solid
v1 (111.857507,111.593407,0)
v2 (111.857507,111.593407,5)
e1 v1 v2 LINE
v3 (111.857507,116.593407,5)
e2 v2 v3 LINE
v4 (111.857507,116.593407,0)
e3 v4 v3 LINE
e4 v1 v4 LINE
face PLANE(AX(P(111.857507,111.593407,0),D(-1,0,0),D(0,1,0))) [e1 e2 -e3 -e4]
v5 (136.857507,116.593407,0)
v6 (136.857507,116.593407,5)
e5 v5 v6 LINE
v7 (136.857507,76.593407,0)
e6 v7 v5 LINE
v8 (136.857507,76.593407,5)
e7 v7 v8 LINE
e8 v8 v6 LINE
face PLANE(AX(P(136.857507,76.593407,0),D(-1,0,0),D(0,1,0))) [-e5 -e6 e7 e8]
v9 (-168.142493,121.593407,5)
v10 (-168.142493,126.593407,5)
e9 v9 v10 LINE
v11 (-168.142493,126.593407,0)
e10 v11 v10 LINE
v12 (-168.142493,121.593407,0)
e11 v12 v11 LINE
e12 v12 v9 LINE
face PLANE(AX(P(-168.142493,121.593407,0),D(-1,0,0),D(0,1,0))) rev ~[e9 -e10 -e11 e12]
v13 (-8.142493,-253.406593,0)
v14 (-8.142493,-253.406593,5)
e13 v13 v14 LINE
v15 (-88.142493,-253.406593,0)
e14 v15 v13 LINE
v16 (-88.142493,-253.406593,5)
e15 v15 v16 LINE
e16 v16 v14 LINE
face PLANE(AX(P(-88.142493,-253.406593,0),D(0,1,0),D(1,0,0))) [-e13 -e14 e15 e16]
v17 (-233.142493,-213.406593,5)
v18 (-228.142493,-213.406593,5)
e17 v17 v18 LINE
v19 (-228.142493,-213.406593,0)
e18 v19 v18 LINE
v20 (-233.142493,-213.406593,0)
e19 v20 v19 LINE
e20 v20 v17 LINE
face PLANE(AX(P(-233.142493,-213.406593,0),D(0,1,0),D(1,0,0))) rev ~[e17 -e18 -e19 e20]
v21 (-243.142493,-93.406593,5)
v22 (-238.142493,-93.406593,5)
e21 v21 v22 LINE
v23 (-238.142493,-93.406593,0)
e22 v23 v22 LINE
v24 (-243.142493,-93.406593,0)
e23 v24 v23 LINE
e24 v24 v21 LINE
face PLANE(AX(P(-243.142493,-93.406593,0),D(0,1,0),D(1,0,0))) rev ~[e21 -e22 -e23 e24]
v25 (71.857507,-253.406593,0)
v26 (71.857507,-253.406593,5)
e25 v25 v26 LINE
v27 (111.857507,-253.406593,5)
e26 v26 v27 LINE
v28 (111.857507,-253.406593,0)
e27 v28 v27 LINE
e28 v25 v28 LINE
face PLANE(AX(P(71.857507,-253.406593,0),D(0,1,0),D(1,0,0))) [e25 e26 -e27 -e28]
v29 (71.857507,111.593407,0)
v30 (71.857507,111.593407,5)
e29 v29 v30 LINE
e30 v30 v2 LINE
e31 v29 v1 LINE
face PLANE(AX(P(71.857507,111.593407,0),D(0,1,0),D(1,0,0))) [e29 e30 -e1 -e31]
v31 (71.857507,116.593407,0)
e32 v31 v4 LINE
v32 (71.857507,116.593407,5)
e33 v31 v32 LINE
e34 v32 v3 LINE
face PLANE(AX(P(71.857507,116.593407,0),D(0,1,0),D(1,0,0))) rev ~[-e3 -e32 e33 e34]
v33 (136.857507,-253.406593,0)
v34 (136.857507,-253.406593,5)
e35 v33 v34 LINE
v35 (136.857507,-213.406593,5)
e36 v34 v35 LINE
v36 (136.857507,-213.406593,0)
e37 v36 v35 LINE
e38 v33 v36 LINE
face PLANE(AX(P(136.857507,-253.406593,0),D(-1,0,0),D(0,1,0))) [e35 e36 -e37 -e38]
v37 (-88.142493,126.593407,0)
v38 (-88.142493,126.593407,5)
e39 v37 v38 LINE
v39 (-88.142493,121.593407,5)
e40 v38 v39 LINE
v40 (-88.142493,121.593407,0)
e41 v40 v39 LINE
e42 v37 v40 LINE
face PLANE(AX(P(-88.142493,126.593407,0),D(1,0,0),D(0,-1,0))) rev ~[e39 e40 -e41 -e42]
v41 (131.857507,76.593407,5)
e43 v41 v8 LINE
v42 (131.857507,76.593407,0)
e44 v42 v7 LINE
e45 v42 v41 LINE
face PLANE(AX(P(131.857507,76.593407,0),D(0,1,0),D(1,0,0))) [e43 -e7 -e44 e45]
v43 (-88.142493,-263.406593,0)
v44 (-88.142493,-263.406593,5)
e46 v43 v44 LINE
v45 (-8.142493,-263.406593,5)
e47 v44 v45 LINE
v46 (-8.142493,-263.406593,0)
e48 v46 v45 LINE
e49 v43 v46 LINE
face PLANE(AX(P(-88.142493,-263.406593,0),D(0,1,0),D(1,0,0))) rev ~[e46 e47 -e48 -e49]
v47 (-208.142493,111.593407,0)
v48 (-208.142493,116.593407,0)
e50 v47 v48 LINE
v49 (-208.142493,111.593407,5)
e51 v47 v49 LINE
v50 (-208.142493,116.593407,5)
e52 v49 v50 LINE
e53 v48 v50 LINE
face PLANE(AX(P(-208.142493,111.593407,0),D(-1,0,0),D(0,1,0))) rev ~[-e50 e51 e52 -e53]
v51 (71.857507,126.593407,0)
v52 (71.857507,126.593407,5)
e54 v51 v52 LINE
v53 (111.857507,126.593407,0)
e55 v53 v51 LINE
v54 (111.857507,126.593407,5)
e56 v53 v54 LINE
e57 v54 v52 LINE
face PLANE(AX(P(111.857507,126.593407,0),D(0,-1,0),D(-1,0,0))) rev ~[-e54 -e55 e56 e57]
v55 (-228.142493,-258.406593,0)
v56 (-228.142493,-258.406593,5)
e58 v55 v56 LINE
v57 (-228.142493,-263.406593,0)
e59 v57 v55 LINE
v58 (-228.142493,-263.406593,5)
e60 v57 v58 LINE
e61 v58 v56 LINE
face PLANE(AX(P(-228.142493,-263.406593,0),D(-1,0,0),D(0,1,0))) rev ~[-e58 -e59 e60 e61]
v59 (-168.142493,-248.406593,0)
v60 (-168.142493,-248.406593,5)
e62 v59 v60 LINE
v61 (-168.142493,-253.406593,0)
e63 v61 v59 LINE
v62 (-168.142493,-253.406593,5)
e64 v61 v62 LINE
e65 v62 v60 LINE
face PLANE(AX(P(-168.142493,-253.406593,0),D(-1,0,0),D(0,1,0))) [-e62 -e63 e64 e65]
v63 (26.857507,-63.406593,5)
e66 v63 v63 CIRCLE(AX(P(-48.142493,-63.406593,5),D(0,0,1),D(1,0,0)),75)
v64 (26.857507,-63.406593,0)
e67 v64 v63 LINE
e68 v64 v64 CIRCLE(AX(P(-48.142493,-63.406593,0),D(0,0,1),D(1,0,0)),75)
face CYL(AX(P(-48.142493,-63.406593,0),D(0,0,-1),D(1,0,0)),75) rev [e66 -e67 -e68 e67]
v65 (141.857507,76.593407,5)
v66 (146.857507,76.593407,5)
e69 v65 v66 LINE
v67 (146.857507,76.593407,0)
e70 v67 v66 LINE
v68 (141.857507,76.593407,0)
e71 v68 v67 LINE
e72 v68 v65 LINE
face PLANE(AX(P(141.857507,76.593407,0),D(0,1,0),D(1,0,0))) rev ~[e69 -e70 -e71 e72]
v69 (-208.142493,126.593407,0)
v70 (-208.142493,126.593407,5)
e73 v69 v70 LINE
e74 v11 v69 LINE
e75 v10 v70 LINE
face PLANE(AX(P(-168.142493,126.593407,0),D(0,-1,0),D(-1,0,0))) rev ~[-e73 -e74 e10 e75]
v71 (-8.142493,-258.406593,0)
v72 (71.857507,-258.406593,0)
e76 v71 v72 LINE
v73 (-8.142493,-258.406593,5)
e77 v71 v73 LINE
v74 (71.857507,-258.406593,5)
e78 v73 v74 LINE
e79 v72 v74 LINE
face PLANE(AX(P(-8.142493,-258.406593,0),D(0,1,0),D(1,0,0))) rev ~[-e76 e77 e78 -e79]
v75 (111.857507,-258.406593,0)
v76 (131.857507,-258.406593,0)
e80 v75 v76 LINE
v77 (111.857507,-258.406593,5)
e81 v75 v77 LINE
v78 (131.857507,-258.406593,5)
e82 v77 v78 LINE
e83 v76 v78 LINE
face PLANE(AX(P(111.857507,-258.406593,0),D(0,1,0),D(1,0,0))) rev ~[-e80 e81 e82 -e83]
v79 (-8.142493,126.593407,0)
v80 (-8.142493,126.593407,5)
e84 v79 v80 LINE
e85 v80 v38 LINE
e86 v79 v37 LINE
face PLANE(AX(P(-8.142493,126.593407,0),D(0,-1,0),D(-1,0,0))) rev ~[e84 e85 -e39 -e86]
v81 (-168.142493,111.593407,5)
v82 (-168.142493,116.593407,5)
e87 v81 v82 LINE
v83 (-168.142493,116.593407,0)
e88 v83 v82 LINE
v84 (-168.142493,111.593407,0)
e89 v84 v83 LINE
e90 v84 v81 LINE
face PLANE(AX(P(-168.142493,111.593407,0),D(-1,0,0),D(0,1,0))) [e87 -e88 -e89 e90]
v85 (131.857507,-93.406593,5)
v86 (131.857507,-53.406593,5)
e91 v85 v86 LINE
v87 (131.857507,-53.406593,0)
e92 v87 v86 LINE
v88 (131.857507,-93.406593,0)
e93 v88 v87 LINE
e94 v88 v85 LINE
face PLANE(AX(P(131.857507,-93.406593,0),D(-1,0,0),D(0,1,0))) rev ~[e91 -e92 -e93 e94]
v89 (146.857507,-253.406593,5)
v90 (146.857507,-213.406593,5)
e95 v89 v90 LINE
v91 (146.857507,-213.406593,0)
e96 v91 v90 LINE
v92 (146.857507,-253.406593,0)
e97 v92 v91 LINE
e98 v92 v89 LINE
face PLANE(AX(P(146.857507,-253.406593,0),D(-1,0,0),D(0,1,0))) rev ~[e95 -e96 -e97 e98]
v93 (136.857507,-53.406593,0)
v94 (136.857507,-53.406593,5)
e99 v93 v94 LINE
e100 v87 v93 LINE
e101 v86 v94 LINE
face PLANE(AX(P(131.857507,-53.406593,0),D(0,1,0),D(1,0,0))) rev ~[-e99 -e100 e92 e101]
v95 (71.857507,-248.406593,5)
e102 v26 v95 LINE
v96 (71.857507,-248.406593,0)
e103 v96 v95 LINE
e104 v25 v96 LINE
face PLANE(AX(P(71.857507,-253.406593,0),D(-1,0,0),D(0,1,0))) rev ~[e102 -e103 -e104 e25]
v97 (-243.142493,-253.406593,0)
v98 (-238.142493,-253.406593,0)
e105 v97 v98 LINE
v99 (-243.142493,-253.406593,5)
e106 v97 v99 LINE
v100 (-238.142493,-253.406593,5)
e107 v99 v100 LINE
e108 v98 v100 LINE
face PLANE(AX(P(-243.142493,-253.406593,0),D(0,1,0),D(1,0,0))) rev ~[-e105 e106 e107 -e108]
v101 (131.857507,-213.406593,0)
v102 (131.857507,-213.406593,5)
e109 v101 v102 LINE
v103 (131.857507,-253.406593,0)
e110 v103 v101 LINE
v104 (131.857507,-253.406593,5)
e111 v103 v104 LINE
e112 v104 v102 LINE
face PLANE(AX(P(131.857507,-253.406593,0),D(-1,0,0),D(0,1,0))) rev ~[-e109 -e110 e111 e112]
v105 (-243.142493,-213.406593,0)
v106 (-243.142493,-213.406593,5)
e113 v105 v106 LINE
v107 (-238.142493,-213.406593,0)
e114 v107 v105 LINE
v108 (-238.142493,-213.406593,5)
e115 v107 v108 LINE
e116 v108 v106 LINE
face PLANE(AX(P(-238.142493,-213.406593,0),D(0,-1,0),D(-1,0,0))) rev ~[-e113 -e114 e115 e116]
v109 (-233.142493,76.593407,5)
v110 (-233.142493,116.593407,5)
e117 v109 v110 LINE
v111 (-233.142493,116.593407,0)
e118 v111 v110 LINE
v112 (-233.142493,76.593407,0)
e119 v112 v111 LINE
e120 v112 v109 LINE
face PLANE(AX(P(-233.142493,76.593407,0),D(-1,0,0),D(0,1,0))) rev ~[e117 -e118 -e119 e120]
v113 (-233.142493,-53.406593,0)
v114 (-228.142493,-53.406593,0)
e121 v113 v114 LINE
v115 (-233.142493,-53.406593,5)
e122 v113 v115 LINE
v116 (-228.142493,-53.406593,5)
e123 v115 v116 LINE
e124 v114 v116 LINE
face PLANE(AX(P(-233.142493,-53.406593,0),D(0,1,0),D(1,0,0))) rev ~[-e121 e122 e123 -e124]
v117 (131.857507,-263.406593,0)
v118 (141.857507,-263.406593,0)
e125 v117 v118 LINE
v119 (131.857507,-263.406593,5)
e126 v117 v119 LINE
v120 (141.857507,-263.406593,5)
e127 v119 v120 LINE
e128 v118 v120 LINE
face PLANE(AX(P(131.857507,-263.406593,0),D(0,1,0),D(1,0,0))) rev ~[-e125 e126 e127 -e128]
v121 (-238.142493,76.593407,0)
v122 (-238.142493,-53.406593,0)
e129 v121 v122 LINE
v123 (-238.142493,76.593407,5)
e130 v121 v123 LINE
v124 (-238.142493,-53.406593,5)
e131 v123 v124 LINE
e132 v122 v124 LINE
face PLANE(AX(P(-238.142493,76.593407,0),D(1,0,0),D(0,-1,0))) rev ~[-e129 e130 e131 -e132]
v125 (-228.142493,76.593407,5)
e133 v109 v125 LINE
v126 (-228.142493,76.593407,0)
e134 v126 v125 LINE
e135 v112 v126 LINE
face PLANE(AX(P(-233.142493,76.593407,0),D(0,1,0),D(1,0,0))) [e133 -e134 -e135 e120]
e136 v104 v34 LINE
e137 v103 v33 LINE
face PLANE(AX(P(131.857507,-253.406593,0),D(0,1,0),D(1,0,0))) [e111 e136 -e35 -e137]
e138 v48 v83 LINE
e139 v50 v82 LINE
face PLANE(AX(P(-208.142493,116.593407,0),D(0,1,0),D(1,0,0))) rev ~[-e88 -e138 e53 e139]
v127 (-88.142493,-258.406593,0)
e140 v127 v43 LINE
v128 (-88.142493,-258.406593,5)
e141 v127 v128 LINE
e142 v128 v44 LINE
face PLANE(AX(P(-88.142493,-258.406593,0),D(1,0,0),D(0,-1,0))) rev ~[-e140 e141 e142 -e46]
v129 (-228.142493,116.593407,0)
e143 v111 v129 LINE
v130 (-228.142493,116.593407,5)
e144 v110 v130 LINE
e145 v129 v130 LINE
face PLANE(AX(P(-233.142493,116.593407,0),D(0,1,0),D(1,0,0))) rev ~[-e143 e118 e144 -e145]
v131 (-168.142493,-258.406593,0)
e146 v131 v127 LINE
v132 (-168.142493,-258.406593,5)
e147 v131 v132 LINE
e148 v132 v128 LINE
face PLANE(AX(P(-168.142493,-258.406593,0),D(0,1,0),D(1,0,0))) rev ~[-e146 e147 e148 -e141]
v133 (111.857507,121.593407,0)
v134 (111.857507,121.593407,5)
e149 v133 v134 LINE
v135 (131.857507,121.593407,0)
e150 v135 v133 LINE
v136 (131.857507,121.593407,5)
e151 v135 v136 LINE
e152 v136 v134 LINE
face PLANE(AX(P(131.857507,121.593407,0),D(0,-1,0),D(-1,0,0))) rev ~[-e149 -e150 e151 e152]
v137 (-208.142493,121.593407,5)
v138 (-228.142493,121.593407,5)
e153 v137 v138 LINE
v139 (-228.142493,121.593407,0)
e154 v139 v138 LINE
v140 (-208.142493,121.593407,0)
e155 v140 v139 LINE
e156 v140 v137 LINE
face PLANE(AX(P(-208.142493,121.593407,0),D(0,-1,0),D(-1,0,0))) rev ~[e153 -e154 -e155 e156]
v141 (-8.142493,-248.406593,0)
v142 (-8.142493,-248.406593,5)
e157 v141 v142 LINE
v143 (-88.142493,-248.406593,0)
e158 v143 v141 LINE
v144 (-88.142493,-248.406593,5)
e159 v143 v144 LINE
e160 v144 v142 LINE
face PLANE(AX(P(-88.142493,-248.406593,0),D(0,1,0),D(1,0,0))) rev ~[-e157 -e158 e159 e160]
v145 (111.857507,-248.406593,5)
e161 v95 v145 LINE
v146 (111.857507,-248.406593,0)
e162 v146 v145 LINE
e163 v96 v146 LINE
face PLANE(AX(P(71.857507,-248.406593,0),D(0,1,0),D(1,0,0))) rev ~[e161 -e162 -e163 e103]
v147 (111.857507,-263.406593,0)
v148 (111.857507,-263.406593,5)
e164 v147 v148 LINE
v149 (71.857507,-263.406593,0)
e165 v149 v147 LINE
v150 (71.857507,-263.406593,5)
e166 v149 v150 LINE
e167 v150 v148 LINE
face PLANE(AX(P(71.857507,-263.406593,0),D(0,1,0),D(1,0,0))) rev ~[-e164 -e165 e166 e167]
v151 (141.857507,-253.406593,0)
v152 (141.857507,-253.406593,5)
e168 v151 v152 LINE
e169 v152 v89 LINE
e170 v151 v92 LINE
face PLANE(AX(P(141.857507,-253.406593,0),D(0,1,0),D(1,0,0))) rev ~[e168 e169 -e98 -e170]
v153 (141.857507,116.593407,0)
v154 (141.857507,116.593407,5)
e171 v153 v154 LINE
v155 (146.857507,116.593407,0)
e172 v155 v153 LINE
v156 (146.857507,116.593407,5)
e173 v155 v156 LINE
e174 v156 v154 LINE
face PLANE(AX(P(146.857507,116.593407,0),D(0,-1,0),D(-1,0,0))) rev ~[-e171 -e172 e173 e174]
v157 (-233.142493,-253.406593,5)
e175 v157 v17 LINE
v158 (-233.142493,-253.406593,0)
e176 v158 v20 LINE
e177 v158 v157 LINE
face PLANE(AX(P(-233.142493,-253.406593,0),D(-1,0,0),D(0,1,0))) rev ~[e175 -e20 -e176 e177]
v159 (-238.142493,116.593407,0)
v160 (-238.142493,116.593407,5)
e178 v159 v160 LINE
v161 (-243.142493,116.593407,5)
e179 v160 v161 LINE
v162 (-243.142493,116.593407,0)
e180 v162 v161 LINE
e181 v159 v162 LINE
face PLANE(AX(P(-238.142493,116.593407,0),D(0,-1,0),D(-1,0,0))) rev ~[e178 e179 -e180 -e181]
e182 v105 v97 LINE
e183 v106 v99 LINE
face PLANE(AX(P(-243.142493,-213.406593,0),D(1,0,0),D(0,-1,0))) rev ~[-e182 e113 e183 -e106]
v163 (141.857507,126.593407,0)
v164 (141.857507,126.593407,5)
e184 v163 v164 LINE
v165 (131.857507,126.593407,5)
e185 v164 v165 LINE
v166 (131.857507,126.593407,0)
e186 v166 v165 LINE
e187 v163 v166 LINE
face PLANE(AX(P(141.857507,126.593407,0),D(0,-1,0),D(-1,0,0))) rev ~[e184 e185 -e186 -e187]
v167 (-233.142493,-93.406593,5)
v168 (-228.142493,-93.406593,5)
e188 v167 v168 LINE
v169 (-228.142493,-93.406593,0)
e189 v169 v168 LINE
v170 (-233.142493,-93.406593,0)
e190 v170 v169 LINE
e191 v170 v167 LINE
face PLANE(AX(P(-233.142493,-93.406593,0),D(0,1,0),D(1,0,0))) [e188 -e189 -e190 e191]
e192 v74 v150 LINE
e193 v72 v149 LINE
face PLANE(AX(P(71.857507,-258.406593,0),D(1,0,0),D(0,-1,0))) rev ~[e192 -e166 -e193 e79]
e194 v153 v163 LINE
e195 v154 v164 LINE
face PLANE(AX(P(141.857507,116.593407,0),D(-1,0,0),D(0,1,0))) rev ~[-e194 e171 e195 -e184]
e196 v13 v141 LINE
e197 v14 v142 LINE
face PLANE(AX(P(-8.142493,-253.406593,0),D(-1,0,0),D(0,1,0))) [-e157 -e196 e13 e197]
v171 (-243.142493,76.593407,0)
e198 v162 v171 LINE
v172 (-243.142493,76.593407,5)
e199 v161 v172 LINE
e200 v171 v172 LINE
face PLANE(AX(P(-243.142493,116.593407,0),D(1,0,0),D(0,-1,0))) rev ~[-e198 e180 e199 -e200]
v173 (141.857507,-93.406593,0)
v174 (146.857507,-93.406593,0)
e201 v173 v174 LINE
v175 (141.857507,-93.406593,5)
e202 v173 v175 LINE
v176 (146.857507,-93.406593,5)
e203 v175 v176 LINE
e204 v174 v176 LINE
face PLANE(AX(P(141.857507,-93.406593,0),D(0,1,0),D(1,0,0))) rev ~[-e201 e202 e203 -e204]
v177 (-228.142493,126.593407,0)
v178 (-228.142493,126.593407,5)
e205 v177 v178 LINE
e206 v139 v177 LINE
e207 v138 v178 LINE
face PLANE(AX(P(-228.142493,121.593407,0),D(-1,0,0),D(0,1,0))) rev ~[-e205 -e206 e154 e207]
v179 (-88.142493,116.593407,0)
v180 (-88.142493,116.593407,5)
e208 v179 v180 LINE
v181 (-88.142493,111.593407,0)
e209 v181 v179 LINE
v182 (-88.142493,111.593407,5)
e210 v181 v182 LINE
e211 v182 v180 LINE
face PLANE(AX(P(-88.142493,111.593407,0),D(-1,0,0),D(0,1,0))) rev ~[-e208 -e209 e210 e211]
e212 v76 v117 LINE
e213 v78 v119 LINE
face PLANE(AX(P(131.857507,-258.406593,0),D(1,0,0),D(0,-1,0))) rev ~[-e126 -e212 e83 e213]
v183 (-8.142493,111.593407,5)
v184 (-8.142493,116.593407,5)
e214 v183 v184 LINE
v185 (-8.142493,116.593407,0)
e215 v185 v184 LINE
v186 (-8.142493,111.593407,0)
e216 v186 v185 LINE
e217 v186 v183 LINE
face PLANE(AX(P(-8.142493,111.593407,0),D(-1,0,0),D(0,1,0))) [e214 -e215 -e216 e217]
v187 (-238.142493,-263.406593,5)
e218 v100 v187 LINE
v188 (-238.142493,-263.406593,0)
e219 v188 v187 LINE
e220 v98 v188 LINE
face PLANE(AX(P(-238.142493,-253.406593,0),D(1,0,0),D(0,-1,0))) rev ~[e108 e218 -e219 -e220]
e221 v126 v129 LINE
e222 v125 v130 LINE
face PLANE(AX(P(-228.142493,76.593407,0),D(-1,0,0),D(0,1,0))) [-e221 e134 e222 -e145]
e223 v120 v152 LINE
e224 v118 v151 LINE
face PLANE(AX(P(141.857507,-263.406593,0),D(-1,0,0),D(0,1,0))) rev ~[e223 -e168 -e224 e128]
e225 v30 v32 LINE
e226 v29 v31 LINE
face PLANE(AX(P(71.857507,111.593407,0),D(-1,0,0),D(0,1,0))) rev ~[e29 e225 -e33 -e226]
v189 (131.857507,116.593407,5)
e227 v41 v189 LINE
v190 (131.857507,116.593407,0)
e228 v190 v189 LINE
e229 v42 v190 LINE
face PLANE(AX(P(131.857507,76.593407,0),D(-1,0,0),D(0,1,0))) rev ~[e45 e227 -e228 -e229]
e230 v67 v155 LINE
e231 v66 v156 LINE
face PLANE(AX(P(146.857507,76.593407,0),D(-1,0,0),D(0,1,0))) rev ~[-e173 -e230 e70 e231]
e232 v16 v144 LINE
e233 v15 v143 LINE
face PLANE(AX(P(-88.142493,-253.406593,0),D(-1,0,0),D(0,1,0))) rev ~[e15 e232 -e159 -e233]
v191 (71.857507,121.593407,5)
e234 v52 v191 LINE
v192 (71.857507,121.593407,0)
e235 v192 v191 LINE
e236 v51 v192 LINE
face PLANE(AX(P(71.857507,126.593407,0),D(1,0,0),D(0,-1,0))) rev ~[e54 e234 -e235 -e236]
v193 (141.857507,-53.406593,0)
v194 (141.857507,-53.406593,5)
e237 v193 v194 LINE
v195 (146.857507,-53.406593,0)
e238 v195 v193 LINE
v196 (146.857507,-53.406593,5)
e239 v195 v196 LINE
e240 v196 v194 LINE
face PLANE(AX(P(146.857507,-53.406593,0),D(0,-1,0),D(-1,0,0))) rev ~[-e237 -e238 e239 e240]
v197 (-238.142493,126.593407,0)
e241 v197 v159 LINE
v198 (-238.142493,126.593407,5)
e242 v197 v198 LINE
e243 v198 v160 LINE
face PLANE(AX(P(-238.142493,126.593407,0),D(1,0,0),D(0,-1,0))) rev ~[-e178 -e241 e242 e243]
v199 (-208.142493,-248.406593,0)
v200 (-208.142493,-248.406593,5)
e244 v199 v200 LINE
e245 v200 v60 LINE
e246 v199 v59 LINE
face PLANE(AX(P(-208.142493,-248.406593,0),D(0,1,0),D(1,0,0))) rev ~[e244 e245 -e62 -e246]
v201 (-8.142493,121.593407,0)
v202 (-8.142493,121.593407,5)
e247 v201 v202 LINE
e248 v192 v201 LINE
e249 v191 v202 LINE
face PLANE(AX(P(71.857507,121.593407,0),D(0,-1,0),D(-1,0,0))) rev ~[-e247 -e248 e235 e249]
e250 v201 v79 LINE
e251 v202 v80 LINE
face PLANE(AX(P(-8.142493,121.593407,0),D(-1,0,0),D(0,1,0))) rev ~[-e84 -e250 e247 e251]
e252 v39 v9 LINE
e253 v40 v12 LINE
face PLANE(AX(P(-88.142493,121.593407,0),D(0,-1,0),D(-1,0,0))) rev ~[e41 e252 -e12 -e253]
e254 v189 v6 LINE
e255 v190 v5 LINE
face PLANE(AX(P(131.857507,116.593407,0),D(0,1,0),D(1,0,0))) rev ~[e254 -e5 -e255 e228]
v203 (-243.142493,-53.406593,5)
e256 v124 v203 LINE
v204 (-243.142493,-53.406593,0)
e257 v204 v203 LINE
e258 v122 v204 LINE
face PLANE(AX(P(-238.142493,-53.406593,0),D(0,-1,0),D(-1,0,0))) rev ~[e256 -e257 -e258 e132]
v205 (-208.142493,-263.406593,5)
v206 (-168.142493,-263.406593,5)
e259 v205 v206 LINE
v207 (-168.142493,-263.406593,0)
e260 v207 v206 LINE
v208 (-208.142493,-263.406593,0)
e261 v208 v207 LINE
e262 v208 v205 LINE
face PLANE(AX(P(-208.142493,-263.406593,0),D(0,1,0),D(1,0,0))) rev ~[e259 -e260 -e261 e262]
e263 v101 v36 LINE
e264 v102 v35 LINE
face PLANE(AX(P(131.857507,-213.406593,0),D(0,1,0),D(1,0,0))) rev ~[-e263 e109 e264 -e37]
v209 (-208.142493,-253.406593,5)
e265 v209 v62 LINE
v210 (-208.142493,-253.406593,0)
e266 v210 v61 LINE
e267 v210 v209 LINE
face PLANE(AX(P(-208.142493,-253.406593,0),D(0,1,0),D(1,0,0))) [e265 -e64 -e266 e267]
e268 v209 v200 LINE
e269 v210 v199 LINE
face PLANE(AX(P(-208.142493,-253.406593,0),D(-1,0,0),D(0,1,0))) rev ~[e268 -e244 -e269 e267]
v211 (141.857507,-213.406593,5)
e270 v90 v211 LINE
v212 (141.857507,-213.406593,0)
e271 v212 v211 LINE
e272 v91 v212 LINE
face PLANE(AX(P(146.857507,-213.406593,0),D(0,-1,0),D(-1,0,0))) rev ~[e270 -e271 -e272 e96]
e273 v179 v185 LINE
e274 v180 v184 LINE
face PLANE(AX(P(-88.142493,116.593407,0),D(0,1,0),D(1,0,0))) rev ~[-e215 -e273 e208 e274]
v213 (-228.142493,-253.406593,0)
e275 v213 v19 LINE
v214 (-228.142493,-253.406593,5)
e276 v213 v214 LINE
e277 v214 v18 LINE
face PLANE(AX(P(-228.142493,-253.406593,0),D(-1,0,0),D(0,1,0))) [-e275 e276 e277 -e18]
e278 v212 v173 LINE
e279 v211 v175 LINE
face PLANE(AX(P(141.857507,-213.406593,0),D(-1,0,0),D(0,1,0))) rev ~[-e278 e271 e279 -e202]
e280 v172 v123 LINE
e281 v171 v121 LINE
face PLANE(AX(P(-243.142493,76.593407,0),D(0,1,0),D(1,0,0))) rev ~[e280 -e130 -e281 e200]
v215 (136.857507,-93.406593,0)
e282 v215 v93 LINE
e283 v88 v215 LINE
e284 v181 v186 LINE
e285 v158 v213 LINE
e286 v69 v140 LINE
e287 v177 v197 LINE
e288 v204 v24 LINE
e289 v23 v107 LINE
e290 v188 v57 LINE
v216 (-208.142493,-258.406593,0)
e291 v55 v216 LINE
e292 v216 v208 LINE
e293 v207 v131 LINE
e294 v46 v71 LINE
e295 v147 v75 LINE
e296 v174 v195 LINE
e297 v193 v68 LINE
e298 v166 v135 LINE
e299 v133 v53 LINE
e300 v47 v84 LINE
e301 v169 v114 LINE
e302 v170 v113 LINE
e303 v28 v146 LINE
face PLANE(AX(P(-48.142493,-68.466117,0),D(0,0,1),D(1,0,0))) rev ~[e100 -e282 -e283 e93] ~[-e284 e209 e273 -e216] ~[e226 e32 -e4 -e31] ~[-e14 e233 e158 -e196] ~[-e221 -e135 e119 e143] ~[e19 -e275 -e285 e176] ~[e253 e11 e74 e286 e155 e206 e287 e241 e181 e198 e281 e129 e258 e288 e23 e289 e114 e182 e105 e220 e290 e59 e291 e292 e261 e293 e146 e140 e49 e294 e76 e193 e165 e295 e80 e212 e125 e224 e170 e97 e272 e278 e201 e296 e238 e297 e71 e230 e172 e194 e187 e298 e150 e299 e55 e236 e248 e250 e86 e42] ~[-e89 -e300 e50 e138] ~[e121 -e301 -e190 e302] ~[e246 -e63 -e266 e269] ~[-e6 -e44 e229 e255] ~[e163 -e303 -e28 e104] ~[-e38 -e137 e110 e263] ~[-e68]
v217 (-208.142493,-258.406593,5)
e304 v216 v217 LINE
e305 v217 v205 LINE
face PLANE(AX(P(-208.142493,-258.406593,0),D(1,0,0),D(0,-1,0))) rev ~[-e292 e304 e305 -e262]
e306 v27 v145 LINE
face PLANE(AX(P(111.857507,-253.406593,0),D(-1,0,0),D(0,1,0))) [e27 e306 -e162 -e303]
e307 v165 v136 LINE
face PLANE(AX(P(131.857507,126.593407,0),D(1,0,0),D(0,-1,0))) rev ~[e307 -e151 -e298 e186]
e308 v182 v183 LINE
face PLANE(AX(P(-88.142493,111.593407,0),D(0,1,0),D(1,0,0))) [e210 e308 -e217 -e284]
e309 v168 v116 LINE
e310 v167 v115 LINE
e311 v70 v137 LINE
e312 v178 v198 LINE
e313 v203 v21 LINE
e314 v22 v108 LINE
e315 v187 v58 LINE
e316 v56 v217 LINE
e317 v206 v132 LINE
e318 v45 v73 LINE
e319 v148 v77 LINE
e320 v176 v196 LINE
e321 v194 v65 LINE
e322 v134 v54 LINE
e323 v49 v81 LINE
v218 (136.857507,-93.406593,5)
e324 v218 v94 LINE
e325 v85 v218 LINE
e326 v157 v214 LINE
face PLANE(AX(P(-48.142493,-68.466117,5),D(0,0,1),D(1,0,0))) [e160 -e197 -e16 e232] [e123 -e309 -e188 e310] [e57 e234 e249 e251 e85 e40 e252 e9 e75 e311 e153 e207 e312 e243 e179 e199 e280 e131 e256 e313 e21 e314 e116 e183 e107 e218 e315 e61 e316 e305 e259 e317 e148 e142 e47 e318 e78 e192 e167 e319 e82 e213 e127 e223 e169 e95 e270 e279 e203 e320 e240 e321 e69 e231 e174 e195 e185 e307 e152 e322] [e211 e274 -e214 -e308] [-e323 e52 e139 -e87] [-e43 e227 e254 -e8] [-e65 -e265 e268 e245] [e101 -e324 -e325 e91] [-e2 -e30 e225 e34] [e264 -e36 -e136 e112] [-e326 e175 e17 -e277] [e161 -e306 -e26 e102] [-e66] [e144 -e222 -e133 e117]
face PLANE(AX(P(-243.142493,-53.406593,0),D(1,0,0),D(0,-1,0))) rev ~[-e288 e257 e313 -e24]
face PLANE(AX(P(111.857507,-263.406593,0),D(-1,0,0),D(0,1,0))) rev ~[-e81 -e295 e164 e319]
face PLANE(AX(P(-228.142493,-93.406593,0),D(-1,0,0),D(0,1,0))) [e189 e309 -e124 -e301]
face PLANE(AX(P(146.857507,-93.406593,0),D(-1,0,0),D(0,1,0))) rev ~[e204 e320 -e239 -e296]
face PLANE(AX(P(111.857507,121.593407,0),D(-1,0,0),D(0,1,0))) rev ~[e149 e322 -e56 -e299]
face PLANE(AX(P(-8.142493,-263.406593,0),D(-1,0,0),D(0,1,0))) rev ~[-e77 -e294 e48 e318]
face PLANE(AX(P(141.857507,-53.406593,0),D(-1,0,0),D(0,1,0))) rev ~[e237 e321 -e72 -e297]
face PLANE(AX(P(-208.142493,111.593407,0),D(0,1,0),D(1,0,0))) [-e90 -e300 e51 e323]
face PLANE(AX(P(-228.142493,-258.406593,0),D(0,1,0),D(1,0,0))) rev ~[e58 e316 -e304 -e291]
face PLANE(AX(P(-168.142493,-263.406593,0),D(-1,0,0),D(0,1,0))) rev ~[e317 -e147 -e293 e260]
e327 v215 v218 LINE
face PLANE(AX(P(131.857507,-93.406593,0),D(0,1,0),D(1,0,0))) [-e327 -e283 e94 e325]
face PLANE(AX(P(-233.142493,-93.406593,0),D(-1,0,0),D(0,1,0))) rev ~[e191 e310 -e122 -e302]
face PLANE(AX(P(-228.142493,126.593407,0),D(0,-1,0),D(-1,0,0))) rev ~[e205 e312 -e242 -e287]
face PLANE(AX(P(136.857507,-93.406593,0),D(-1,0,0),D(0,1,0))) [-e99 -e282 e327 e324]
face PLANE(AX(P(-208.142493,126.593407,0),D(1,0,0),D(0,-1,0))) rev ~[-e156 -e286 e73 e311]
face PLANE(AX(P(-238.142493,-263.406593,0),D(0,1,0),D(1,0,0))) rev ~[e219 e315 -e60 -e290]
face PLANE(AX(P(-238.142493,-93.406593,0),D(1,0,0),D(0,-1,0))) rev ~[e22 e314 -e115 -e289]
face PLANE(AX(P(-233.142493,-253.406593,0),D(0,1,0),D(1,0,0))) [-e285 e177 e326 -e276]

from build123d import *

# Parameters (mm, degrees)
ESQUISSE1_W        = 5
ESQUISSE1_H        = 40
ESQUISSE1_W_2      = 40
ESQUISSE1_H_2      = 5
ESQUISSE1_W_3      = 80
ESQUISSE1_R        = 75
BOSS_EXTRU_1_DEPTH = 5


with BuildPart() as part:
    # Esquisse1 → Boss.-Extru.1 (new body)
    with BuildSketch(Plane.XY):
        Polygon((-238.142492866, -253.406593407), (-238.142492866, -263.406593407), (-228.142492866, -263.406593407), (-228.142492866, -258.406593407), (-208.142492866, -258.406593407), (-208.142492866, -263.406593407), (-168.142492866, -263.406593407), (-168.142492866, -258.406593407), (-88.142492866, -258.406593407), (-88.142492866, -263.406593407), (-8.142492866, -263.406593407), (-8.142492866, -258.406593407), (71.857507134, -258.406593407), (71.857507134, -263.406593407), (111.857507134, -263.406593407), (111.857507134, -258.406593407), (131.857507134, -258.406593407), (131.857507134, -263.406593407), (141.857507134, -263.406593407), (141.857507134, -253.406593407), (146.857507134, -253.406593407), (146.857507134, -213.406593407), (141.857507134, -213.406593407), (141.857507134, -93.406593407), (146.857507134, -93.406593407), (146.857507134, -53.406593407), (141.857507134, -53.406593407), (141.857507134, 76.593406593), (146.857507134, 76.593406593), (146.857507134, 116.593406593), (141.857507134, 116.593406593), (141.857507134, 126.593406593), (131.857507134, 126.593406593), (131.857507134, 121.593406593), (111.857507134, 121.593406593), (111.857507134, 126.593406593), (71.857507134, 126.593406593), (71.857507134, 121.593406593), (-8.142492866, 121.593406593), (-8.142492866, 126.593406593), (-88.142492866, 126.593406593), (-88.142492866, 121.593406593), (-168.142492866, 121.593406593), (-168.142492866, 126.593406593), (-208.142492866, 126.593406593), (-208.142492866, 121.593406593), (-228.142492866, 121.593406593), (-228.142492866, 126.593406593), (-238.142492866, 126.593406593), (-238.142492866, 116.593406593), (-243.142492866, 116.593406593), (-243.142492866, 76.593406593), (-238.142492866, 76.593406593), (-238.142492866, -53.406593407), (-243.142492866, -53.406593407), (-243.142492866, -93.406593407), (-238.142492866, -93.406593407), (-238.142492866, -213.406593407), (-243.142492866, -213.406593407), (-243.142492866, -253.406593407), align=None)
        with Locations((134.357507134, -233.406593407)):
            Rectangle(ESQUISSE1_W, ESQUISSE1_H, mode=Mode.SUBTRACT)
        with Locations((134.357507134, -73.406593407)):
            Rectangle(ESQUISSE1_W, ESQUISSE1_H, mode=Mode.SUBTRACT)
        with Locations((134.357507134, 96.593406593)):
            Rectangle(ESQUISSE1_W, ESQUISSE1_H, mode=Mode.SUBTRACT)
        with Locations((91.857507134, 114.093406593)):
            Rectangle(ESQUISSE1_W_2, ESQUISSE1_H_2, mode=Mode.SUBTRACT)
        with Locations((-48.142492866, 114.093406593)):
            Rectangle(ESQUISSE1_W_3, ESQUISSE1_H_2, mode=Mode.SUBTRACT)
        with Locations((-188.142492866, 114.093406593)):
            Rectangle(ESQUISSE1_W_2, ESQUISSE1_H_2, mode=Mode.SUBTRACT)
        with Locations((-230.642492866, 96.593406593)):
            Rectangle(ESQUISSE1_W, ESQUISSE1_H, mode=Mode.SUBTRACT)
        with Locations((-230.642492866, -73.406593407)):
            Rectangle(ESQUISSE1_W, ESQUISSE1_H, mode=Mode.SUBTRACT)
        with Locations((-230.642492866, -233.406593407)):
            Rectangle(ESQUISSE1_W, ESQUISSE1_H, mode=Mode.SUBTRACT)
        with Locations((-188.142492866, -250.906593407)):
            Rectangle(ESQUISSE1_W_2, ESQUISSE1_H_2, mode=Mode.SUBTRACT)
        with Locations((-48.142492866, -250.906593407)):
            Rectangle(ESQUISSE1_W_3, ESQUISSE1_H_2, mode=Mode.SUBTRACT)
        with Locations((91.857507134, -250.906593407)):
            Rectangle(ESQUISSE1_W_2, ESQUISSE1_H_2, mode=Mode.SUBTRACT)
        with Locations((-48.142492866, -63.406593407)):
            Circle(ESQUISSE1_R, mode=Mode.SUBTRACT)
    extrude(amount=BOSS_EXTRU_1_DEPTH)


solid = part.part
